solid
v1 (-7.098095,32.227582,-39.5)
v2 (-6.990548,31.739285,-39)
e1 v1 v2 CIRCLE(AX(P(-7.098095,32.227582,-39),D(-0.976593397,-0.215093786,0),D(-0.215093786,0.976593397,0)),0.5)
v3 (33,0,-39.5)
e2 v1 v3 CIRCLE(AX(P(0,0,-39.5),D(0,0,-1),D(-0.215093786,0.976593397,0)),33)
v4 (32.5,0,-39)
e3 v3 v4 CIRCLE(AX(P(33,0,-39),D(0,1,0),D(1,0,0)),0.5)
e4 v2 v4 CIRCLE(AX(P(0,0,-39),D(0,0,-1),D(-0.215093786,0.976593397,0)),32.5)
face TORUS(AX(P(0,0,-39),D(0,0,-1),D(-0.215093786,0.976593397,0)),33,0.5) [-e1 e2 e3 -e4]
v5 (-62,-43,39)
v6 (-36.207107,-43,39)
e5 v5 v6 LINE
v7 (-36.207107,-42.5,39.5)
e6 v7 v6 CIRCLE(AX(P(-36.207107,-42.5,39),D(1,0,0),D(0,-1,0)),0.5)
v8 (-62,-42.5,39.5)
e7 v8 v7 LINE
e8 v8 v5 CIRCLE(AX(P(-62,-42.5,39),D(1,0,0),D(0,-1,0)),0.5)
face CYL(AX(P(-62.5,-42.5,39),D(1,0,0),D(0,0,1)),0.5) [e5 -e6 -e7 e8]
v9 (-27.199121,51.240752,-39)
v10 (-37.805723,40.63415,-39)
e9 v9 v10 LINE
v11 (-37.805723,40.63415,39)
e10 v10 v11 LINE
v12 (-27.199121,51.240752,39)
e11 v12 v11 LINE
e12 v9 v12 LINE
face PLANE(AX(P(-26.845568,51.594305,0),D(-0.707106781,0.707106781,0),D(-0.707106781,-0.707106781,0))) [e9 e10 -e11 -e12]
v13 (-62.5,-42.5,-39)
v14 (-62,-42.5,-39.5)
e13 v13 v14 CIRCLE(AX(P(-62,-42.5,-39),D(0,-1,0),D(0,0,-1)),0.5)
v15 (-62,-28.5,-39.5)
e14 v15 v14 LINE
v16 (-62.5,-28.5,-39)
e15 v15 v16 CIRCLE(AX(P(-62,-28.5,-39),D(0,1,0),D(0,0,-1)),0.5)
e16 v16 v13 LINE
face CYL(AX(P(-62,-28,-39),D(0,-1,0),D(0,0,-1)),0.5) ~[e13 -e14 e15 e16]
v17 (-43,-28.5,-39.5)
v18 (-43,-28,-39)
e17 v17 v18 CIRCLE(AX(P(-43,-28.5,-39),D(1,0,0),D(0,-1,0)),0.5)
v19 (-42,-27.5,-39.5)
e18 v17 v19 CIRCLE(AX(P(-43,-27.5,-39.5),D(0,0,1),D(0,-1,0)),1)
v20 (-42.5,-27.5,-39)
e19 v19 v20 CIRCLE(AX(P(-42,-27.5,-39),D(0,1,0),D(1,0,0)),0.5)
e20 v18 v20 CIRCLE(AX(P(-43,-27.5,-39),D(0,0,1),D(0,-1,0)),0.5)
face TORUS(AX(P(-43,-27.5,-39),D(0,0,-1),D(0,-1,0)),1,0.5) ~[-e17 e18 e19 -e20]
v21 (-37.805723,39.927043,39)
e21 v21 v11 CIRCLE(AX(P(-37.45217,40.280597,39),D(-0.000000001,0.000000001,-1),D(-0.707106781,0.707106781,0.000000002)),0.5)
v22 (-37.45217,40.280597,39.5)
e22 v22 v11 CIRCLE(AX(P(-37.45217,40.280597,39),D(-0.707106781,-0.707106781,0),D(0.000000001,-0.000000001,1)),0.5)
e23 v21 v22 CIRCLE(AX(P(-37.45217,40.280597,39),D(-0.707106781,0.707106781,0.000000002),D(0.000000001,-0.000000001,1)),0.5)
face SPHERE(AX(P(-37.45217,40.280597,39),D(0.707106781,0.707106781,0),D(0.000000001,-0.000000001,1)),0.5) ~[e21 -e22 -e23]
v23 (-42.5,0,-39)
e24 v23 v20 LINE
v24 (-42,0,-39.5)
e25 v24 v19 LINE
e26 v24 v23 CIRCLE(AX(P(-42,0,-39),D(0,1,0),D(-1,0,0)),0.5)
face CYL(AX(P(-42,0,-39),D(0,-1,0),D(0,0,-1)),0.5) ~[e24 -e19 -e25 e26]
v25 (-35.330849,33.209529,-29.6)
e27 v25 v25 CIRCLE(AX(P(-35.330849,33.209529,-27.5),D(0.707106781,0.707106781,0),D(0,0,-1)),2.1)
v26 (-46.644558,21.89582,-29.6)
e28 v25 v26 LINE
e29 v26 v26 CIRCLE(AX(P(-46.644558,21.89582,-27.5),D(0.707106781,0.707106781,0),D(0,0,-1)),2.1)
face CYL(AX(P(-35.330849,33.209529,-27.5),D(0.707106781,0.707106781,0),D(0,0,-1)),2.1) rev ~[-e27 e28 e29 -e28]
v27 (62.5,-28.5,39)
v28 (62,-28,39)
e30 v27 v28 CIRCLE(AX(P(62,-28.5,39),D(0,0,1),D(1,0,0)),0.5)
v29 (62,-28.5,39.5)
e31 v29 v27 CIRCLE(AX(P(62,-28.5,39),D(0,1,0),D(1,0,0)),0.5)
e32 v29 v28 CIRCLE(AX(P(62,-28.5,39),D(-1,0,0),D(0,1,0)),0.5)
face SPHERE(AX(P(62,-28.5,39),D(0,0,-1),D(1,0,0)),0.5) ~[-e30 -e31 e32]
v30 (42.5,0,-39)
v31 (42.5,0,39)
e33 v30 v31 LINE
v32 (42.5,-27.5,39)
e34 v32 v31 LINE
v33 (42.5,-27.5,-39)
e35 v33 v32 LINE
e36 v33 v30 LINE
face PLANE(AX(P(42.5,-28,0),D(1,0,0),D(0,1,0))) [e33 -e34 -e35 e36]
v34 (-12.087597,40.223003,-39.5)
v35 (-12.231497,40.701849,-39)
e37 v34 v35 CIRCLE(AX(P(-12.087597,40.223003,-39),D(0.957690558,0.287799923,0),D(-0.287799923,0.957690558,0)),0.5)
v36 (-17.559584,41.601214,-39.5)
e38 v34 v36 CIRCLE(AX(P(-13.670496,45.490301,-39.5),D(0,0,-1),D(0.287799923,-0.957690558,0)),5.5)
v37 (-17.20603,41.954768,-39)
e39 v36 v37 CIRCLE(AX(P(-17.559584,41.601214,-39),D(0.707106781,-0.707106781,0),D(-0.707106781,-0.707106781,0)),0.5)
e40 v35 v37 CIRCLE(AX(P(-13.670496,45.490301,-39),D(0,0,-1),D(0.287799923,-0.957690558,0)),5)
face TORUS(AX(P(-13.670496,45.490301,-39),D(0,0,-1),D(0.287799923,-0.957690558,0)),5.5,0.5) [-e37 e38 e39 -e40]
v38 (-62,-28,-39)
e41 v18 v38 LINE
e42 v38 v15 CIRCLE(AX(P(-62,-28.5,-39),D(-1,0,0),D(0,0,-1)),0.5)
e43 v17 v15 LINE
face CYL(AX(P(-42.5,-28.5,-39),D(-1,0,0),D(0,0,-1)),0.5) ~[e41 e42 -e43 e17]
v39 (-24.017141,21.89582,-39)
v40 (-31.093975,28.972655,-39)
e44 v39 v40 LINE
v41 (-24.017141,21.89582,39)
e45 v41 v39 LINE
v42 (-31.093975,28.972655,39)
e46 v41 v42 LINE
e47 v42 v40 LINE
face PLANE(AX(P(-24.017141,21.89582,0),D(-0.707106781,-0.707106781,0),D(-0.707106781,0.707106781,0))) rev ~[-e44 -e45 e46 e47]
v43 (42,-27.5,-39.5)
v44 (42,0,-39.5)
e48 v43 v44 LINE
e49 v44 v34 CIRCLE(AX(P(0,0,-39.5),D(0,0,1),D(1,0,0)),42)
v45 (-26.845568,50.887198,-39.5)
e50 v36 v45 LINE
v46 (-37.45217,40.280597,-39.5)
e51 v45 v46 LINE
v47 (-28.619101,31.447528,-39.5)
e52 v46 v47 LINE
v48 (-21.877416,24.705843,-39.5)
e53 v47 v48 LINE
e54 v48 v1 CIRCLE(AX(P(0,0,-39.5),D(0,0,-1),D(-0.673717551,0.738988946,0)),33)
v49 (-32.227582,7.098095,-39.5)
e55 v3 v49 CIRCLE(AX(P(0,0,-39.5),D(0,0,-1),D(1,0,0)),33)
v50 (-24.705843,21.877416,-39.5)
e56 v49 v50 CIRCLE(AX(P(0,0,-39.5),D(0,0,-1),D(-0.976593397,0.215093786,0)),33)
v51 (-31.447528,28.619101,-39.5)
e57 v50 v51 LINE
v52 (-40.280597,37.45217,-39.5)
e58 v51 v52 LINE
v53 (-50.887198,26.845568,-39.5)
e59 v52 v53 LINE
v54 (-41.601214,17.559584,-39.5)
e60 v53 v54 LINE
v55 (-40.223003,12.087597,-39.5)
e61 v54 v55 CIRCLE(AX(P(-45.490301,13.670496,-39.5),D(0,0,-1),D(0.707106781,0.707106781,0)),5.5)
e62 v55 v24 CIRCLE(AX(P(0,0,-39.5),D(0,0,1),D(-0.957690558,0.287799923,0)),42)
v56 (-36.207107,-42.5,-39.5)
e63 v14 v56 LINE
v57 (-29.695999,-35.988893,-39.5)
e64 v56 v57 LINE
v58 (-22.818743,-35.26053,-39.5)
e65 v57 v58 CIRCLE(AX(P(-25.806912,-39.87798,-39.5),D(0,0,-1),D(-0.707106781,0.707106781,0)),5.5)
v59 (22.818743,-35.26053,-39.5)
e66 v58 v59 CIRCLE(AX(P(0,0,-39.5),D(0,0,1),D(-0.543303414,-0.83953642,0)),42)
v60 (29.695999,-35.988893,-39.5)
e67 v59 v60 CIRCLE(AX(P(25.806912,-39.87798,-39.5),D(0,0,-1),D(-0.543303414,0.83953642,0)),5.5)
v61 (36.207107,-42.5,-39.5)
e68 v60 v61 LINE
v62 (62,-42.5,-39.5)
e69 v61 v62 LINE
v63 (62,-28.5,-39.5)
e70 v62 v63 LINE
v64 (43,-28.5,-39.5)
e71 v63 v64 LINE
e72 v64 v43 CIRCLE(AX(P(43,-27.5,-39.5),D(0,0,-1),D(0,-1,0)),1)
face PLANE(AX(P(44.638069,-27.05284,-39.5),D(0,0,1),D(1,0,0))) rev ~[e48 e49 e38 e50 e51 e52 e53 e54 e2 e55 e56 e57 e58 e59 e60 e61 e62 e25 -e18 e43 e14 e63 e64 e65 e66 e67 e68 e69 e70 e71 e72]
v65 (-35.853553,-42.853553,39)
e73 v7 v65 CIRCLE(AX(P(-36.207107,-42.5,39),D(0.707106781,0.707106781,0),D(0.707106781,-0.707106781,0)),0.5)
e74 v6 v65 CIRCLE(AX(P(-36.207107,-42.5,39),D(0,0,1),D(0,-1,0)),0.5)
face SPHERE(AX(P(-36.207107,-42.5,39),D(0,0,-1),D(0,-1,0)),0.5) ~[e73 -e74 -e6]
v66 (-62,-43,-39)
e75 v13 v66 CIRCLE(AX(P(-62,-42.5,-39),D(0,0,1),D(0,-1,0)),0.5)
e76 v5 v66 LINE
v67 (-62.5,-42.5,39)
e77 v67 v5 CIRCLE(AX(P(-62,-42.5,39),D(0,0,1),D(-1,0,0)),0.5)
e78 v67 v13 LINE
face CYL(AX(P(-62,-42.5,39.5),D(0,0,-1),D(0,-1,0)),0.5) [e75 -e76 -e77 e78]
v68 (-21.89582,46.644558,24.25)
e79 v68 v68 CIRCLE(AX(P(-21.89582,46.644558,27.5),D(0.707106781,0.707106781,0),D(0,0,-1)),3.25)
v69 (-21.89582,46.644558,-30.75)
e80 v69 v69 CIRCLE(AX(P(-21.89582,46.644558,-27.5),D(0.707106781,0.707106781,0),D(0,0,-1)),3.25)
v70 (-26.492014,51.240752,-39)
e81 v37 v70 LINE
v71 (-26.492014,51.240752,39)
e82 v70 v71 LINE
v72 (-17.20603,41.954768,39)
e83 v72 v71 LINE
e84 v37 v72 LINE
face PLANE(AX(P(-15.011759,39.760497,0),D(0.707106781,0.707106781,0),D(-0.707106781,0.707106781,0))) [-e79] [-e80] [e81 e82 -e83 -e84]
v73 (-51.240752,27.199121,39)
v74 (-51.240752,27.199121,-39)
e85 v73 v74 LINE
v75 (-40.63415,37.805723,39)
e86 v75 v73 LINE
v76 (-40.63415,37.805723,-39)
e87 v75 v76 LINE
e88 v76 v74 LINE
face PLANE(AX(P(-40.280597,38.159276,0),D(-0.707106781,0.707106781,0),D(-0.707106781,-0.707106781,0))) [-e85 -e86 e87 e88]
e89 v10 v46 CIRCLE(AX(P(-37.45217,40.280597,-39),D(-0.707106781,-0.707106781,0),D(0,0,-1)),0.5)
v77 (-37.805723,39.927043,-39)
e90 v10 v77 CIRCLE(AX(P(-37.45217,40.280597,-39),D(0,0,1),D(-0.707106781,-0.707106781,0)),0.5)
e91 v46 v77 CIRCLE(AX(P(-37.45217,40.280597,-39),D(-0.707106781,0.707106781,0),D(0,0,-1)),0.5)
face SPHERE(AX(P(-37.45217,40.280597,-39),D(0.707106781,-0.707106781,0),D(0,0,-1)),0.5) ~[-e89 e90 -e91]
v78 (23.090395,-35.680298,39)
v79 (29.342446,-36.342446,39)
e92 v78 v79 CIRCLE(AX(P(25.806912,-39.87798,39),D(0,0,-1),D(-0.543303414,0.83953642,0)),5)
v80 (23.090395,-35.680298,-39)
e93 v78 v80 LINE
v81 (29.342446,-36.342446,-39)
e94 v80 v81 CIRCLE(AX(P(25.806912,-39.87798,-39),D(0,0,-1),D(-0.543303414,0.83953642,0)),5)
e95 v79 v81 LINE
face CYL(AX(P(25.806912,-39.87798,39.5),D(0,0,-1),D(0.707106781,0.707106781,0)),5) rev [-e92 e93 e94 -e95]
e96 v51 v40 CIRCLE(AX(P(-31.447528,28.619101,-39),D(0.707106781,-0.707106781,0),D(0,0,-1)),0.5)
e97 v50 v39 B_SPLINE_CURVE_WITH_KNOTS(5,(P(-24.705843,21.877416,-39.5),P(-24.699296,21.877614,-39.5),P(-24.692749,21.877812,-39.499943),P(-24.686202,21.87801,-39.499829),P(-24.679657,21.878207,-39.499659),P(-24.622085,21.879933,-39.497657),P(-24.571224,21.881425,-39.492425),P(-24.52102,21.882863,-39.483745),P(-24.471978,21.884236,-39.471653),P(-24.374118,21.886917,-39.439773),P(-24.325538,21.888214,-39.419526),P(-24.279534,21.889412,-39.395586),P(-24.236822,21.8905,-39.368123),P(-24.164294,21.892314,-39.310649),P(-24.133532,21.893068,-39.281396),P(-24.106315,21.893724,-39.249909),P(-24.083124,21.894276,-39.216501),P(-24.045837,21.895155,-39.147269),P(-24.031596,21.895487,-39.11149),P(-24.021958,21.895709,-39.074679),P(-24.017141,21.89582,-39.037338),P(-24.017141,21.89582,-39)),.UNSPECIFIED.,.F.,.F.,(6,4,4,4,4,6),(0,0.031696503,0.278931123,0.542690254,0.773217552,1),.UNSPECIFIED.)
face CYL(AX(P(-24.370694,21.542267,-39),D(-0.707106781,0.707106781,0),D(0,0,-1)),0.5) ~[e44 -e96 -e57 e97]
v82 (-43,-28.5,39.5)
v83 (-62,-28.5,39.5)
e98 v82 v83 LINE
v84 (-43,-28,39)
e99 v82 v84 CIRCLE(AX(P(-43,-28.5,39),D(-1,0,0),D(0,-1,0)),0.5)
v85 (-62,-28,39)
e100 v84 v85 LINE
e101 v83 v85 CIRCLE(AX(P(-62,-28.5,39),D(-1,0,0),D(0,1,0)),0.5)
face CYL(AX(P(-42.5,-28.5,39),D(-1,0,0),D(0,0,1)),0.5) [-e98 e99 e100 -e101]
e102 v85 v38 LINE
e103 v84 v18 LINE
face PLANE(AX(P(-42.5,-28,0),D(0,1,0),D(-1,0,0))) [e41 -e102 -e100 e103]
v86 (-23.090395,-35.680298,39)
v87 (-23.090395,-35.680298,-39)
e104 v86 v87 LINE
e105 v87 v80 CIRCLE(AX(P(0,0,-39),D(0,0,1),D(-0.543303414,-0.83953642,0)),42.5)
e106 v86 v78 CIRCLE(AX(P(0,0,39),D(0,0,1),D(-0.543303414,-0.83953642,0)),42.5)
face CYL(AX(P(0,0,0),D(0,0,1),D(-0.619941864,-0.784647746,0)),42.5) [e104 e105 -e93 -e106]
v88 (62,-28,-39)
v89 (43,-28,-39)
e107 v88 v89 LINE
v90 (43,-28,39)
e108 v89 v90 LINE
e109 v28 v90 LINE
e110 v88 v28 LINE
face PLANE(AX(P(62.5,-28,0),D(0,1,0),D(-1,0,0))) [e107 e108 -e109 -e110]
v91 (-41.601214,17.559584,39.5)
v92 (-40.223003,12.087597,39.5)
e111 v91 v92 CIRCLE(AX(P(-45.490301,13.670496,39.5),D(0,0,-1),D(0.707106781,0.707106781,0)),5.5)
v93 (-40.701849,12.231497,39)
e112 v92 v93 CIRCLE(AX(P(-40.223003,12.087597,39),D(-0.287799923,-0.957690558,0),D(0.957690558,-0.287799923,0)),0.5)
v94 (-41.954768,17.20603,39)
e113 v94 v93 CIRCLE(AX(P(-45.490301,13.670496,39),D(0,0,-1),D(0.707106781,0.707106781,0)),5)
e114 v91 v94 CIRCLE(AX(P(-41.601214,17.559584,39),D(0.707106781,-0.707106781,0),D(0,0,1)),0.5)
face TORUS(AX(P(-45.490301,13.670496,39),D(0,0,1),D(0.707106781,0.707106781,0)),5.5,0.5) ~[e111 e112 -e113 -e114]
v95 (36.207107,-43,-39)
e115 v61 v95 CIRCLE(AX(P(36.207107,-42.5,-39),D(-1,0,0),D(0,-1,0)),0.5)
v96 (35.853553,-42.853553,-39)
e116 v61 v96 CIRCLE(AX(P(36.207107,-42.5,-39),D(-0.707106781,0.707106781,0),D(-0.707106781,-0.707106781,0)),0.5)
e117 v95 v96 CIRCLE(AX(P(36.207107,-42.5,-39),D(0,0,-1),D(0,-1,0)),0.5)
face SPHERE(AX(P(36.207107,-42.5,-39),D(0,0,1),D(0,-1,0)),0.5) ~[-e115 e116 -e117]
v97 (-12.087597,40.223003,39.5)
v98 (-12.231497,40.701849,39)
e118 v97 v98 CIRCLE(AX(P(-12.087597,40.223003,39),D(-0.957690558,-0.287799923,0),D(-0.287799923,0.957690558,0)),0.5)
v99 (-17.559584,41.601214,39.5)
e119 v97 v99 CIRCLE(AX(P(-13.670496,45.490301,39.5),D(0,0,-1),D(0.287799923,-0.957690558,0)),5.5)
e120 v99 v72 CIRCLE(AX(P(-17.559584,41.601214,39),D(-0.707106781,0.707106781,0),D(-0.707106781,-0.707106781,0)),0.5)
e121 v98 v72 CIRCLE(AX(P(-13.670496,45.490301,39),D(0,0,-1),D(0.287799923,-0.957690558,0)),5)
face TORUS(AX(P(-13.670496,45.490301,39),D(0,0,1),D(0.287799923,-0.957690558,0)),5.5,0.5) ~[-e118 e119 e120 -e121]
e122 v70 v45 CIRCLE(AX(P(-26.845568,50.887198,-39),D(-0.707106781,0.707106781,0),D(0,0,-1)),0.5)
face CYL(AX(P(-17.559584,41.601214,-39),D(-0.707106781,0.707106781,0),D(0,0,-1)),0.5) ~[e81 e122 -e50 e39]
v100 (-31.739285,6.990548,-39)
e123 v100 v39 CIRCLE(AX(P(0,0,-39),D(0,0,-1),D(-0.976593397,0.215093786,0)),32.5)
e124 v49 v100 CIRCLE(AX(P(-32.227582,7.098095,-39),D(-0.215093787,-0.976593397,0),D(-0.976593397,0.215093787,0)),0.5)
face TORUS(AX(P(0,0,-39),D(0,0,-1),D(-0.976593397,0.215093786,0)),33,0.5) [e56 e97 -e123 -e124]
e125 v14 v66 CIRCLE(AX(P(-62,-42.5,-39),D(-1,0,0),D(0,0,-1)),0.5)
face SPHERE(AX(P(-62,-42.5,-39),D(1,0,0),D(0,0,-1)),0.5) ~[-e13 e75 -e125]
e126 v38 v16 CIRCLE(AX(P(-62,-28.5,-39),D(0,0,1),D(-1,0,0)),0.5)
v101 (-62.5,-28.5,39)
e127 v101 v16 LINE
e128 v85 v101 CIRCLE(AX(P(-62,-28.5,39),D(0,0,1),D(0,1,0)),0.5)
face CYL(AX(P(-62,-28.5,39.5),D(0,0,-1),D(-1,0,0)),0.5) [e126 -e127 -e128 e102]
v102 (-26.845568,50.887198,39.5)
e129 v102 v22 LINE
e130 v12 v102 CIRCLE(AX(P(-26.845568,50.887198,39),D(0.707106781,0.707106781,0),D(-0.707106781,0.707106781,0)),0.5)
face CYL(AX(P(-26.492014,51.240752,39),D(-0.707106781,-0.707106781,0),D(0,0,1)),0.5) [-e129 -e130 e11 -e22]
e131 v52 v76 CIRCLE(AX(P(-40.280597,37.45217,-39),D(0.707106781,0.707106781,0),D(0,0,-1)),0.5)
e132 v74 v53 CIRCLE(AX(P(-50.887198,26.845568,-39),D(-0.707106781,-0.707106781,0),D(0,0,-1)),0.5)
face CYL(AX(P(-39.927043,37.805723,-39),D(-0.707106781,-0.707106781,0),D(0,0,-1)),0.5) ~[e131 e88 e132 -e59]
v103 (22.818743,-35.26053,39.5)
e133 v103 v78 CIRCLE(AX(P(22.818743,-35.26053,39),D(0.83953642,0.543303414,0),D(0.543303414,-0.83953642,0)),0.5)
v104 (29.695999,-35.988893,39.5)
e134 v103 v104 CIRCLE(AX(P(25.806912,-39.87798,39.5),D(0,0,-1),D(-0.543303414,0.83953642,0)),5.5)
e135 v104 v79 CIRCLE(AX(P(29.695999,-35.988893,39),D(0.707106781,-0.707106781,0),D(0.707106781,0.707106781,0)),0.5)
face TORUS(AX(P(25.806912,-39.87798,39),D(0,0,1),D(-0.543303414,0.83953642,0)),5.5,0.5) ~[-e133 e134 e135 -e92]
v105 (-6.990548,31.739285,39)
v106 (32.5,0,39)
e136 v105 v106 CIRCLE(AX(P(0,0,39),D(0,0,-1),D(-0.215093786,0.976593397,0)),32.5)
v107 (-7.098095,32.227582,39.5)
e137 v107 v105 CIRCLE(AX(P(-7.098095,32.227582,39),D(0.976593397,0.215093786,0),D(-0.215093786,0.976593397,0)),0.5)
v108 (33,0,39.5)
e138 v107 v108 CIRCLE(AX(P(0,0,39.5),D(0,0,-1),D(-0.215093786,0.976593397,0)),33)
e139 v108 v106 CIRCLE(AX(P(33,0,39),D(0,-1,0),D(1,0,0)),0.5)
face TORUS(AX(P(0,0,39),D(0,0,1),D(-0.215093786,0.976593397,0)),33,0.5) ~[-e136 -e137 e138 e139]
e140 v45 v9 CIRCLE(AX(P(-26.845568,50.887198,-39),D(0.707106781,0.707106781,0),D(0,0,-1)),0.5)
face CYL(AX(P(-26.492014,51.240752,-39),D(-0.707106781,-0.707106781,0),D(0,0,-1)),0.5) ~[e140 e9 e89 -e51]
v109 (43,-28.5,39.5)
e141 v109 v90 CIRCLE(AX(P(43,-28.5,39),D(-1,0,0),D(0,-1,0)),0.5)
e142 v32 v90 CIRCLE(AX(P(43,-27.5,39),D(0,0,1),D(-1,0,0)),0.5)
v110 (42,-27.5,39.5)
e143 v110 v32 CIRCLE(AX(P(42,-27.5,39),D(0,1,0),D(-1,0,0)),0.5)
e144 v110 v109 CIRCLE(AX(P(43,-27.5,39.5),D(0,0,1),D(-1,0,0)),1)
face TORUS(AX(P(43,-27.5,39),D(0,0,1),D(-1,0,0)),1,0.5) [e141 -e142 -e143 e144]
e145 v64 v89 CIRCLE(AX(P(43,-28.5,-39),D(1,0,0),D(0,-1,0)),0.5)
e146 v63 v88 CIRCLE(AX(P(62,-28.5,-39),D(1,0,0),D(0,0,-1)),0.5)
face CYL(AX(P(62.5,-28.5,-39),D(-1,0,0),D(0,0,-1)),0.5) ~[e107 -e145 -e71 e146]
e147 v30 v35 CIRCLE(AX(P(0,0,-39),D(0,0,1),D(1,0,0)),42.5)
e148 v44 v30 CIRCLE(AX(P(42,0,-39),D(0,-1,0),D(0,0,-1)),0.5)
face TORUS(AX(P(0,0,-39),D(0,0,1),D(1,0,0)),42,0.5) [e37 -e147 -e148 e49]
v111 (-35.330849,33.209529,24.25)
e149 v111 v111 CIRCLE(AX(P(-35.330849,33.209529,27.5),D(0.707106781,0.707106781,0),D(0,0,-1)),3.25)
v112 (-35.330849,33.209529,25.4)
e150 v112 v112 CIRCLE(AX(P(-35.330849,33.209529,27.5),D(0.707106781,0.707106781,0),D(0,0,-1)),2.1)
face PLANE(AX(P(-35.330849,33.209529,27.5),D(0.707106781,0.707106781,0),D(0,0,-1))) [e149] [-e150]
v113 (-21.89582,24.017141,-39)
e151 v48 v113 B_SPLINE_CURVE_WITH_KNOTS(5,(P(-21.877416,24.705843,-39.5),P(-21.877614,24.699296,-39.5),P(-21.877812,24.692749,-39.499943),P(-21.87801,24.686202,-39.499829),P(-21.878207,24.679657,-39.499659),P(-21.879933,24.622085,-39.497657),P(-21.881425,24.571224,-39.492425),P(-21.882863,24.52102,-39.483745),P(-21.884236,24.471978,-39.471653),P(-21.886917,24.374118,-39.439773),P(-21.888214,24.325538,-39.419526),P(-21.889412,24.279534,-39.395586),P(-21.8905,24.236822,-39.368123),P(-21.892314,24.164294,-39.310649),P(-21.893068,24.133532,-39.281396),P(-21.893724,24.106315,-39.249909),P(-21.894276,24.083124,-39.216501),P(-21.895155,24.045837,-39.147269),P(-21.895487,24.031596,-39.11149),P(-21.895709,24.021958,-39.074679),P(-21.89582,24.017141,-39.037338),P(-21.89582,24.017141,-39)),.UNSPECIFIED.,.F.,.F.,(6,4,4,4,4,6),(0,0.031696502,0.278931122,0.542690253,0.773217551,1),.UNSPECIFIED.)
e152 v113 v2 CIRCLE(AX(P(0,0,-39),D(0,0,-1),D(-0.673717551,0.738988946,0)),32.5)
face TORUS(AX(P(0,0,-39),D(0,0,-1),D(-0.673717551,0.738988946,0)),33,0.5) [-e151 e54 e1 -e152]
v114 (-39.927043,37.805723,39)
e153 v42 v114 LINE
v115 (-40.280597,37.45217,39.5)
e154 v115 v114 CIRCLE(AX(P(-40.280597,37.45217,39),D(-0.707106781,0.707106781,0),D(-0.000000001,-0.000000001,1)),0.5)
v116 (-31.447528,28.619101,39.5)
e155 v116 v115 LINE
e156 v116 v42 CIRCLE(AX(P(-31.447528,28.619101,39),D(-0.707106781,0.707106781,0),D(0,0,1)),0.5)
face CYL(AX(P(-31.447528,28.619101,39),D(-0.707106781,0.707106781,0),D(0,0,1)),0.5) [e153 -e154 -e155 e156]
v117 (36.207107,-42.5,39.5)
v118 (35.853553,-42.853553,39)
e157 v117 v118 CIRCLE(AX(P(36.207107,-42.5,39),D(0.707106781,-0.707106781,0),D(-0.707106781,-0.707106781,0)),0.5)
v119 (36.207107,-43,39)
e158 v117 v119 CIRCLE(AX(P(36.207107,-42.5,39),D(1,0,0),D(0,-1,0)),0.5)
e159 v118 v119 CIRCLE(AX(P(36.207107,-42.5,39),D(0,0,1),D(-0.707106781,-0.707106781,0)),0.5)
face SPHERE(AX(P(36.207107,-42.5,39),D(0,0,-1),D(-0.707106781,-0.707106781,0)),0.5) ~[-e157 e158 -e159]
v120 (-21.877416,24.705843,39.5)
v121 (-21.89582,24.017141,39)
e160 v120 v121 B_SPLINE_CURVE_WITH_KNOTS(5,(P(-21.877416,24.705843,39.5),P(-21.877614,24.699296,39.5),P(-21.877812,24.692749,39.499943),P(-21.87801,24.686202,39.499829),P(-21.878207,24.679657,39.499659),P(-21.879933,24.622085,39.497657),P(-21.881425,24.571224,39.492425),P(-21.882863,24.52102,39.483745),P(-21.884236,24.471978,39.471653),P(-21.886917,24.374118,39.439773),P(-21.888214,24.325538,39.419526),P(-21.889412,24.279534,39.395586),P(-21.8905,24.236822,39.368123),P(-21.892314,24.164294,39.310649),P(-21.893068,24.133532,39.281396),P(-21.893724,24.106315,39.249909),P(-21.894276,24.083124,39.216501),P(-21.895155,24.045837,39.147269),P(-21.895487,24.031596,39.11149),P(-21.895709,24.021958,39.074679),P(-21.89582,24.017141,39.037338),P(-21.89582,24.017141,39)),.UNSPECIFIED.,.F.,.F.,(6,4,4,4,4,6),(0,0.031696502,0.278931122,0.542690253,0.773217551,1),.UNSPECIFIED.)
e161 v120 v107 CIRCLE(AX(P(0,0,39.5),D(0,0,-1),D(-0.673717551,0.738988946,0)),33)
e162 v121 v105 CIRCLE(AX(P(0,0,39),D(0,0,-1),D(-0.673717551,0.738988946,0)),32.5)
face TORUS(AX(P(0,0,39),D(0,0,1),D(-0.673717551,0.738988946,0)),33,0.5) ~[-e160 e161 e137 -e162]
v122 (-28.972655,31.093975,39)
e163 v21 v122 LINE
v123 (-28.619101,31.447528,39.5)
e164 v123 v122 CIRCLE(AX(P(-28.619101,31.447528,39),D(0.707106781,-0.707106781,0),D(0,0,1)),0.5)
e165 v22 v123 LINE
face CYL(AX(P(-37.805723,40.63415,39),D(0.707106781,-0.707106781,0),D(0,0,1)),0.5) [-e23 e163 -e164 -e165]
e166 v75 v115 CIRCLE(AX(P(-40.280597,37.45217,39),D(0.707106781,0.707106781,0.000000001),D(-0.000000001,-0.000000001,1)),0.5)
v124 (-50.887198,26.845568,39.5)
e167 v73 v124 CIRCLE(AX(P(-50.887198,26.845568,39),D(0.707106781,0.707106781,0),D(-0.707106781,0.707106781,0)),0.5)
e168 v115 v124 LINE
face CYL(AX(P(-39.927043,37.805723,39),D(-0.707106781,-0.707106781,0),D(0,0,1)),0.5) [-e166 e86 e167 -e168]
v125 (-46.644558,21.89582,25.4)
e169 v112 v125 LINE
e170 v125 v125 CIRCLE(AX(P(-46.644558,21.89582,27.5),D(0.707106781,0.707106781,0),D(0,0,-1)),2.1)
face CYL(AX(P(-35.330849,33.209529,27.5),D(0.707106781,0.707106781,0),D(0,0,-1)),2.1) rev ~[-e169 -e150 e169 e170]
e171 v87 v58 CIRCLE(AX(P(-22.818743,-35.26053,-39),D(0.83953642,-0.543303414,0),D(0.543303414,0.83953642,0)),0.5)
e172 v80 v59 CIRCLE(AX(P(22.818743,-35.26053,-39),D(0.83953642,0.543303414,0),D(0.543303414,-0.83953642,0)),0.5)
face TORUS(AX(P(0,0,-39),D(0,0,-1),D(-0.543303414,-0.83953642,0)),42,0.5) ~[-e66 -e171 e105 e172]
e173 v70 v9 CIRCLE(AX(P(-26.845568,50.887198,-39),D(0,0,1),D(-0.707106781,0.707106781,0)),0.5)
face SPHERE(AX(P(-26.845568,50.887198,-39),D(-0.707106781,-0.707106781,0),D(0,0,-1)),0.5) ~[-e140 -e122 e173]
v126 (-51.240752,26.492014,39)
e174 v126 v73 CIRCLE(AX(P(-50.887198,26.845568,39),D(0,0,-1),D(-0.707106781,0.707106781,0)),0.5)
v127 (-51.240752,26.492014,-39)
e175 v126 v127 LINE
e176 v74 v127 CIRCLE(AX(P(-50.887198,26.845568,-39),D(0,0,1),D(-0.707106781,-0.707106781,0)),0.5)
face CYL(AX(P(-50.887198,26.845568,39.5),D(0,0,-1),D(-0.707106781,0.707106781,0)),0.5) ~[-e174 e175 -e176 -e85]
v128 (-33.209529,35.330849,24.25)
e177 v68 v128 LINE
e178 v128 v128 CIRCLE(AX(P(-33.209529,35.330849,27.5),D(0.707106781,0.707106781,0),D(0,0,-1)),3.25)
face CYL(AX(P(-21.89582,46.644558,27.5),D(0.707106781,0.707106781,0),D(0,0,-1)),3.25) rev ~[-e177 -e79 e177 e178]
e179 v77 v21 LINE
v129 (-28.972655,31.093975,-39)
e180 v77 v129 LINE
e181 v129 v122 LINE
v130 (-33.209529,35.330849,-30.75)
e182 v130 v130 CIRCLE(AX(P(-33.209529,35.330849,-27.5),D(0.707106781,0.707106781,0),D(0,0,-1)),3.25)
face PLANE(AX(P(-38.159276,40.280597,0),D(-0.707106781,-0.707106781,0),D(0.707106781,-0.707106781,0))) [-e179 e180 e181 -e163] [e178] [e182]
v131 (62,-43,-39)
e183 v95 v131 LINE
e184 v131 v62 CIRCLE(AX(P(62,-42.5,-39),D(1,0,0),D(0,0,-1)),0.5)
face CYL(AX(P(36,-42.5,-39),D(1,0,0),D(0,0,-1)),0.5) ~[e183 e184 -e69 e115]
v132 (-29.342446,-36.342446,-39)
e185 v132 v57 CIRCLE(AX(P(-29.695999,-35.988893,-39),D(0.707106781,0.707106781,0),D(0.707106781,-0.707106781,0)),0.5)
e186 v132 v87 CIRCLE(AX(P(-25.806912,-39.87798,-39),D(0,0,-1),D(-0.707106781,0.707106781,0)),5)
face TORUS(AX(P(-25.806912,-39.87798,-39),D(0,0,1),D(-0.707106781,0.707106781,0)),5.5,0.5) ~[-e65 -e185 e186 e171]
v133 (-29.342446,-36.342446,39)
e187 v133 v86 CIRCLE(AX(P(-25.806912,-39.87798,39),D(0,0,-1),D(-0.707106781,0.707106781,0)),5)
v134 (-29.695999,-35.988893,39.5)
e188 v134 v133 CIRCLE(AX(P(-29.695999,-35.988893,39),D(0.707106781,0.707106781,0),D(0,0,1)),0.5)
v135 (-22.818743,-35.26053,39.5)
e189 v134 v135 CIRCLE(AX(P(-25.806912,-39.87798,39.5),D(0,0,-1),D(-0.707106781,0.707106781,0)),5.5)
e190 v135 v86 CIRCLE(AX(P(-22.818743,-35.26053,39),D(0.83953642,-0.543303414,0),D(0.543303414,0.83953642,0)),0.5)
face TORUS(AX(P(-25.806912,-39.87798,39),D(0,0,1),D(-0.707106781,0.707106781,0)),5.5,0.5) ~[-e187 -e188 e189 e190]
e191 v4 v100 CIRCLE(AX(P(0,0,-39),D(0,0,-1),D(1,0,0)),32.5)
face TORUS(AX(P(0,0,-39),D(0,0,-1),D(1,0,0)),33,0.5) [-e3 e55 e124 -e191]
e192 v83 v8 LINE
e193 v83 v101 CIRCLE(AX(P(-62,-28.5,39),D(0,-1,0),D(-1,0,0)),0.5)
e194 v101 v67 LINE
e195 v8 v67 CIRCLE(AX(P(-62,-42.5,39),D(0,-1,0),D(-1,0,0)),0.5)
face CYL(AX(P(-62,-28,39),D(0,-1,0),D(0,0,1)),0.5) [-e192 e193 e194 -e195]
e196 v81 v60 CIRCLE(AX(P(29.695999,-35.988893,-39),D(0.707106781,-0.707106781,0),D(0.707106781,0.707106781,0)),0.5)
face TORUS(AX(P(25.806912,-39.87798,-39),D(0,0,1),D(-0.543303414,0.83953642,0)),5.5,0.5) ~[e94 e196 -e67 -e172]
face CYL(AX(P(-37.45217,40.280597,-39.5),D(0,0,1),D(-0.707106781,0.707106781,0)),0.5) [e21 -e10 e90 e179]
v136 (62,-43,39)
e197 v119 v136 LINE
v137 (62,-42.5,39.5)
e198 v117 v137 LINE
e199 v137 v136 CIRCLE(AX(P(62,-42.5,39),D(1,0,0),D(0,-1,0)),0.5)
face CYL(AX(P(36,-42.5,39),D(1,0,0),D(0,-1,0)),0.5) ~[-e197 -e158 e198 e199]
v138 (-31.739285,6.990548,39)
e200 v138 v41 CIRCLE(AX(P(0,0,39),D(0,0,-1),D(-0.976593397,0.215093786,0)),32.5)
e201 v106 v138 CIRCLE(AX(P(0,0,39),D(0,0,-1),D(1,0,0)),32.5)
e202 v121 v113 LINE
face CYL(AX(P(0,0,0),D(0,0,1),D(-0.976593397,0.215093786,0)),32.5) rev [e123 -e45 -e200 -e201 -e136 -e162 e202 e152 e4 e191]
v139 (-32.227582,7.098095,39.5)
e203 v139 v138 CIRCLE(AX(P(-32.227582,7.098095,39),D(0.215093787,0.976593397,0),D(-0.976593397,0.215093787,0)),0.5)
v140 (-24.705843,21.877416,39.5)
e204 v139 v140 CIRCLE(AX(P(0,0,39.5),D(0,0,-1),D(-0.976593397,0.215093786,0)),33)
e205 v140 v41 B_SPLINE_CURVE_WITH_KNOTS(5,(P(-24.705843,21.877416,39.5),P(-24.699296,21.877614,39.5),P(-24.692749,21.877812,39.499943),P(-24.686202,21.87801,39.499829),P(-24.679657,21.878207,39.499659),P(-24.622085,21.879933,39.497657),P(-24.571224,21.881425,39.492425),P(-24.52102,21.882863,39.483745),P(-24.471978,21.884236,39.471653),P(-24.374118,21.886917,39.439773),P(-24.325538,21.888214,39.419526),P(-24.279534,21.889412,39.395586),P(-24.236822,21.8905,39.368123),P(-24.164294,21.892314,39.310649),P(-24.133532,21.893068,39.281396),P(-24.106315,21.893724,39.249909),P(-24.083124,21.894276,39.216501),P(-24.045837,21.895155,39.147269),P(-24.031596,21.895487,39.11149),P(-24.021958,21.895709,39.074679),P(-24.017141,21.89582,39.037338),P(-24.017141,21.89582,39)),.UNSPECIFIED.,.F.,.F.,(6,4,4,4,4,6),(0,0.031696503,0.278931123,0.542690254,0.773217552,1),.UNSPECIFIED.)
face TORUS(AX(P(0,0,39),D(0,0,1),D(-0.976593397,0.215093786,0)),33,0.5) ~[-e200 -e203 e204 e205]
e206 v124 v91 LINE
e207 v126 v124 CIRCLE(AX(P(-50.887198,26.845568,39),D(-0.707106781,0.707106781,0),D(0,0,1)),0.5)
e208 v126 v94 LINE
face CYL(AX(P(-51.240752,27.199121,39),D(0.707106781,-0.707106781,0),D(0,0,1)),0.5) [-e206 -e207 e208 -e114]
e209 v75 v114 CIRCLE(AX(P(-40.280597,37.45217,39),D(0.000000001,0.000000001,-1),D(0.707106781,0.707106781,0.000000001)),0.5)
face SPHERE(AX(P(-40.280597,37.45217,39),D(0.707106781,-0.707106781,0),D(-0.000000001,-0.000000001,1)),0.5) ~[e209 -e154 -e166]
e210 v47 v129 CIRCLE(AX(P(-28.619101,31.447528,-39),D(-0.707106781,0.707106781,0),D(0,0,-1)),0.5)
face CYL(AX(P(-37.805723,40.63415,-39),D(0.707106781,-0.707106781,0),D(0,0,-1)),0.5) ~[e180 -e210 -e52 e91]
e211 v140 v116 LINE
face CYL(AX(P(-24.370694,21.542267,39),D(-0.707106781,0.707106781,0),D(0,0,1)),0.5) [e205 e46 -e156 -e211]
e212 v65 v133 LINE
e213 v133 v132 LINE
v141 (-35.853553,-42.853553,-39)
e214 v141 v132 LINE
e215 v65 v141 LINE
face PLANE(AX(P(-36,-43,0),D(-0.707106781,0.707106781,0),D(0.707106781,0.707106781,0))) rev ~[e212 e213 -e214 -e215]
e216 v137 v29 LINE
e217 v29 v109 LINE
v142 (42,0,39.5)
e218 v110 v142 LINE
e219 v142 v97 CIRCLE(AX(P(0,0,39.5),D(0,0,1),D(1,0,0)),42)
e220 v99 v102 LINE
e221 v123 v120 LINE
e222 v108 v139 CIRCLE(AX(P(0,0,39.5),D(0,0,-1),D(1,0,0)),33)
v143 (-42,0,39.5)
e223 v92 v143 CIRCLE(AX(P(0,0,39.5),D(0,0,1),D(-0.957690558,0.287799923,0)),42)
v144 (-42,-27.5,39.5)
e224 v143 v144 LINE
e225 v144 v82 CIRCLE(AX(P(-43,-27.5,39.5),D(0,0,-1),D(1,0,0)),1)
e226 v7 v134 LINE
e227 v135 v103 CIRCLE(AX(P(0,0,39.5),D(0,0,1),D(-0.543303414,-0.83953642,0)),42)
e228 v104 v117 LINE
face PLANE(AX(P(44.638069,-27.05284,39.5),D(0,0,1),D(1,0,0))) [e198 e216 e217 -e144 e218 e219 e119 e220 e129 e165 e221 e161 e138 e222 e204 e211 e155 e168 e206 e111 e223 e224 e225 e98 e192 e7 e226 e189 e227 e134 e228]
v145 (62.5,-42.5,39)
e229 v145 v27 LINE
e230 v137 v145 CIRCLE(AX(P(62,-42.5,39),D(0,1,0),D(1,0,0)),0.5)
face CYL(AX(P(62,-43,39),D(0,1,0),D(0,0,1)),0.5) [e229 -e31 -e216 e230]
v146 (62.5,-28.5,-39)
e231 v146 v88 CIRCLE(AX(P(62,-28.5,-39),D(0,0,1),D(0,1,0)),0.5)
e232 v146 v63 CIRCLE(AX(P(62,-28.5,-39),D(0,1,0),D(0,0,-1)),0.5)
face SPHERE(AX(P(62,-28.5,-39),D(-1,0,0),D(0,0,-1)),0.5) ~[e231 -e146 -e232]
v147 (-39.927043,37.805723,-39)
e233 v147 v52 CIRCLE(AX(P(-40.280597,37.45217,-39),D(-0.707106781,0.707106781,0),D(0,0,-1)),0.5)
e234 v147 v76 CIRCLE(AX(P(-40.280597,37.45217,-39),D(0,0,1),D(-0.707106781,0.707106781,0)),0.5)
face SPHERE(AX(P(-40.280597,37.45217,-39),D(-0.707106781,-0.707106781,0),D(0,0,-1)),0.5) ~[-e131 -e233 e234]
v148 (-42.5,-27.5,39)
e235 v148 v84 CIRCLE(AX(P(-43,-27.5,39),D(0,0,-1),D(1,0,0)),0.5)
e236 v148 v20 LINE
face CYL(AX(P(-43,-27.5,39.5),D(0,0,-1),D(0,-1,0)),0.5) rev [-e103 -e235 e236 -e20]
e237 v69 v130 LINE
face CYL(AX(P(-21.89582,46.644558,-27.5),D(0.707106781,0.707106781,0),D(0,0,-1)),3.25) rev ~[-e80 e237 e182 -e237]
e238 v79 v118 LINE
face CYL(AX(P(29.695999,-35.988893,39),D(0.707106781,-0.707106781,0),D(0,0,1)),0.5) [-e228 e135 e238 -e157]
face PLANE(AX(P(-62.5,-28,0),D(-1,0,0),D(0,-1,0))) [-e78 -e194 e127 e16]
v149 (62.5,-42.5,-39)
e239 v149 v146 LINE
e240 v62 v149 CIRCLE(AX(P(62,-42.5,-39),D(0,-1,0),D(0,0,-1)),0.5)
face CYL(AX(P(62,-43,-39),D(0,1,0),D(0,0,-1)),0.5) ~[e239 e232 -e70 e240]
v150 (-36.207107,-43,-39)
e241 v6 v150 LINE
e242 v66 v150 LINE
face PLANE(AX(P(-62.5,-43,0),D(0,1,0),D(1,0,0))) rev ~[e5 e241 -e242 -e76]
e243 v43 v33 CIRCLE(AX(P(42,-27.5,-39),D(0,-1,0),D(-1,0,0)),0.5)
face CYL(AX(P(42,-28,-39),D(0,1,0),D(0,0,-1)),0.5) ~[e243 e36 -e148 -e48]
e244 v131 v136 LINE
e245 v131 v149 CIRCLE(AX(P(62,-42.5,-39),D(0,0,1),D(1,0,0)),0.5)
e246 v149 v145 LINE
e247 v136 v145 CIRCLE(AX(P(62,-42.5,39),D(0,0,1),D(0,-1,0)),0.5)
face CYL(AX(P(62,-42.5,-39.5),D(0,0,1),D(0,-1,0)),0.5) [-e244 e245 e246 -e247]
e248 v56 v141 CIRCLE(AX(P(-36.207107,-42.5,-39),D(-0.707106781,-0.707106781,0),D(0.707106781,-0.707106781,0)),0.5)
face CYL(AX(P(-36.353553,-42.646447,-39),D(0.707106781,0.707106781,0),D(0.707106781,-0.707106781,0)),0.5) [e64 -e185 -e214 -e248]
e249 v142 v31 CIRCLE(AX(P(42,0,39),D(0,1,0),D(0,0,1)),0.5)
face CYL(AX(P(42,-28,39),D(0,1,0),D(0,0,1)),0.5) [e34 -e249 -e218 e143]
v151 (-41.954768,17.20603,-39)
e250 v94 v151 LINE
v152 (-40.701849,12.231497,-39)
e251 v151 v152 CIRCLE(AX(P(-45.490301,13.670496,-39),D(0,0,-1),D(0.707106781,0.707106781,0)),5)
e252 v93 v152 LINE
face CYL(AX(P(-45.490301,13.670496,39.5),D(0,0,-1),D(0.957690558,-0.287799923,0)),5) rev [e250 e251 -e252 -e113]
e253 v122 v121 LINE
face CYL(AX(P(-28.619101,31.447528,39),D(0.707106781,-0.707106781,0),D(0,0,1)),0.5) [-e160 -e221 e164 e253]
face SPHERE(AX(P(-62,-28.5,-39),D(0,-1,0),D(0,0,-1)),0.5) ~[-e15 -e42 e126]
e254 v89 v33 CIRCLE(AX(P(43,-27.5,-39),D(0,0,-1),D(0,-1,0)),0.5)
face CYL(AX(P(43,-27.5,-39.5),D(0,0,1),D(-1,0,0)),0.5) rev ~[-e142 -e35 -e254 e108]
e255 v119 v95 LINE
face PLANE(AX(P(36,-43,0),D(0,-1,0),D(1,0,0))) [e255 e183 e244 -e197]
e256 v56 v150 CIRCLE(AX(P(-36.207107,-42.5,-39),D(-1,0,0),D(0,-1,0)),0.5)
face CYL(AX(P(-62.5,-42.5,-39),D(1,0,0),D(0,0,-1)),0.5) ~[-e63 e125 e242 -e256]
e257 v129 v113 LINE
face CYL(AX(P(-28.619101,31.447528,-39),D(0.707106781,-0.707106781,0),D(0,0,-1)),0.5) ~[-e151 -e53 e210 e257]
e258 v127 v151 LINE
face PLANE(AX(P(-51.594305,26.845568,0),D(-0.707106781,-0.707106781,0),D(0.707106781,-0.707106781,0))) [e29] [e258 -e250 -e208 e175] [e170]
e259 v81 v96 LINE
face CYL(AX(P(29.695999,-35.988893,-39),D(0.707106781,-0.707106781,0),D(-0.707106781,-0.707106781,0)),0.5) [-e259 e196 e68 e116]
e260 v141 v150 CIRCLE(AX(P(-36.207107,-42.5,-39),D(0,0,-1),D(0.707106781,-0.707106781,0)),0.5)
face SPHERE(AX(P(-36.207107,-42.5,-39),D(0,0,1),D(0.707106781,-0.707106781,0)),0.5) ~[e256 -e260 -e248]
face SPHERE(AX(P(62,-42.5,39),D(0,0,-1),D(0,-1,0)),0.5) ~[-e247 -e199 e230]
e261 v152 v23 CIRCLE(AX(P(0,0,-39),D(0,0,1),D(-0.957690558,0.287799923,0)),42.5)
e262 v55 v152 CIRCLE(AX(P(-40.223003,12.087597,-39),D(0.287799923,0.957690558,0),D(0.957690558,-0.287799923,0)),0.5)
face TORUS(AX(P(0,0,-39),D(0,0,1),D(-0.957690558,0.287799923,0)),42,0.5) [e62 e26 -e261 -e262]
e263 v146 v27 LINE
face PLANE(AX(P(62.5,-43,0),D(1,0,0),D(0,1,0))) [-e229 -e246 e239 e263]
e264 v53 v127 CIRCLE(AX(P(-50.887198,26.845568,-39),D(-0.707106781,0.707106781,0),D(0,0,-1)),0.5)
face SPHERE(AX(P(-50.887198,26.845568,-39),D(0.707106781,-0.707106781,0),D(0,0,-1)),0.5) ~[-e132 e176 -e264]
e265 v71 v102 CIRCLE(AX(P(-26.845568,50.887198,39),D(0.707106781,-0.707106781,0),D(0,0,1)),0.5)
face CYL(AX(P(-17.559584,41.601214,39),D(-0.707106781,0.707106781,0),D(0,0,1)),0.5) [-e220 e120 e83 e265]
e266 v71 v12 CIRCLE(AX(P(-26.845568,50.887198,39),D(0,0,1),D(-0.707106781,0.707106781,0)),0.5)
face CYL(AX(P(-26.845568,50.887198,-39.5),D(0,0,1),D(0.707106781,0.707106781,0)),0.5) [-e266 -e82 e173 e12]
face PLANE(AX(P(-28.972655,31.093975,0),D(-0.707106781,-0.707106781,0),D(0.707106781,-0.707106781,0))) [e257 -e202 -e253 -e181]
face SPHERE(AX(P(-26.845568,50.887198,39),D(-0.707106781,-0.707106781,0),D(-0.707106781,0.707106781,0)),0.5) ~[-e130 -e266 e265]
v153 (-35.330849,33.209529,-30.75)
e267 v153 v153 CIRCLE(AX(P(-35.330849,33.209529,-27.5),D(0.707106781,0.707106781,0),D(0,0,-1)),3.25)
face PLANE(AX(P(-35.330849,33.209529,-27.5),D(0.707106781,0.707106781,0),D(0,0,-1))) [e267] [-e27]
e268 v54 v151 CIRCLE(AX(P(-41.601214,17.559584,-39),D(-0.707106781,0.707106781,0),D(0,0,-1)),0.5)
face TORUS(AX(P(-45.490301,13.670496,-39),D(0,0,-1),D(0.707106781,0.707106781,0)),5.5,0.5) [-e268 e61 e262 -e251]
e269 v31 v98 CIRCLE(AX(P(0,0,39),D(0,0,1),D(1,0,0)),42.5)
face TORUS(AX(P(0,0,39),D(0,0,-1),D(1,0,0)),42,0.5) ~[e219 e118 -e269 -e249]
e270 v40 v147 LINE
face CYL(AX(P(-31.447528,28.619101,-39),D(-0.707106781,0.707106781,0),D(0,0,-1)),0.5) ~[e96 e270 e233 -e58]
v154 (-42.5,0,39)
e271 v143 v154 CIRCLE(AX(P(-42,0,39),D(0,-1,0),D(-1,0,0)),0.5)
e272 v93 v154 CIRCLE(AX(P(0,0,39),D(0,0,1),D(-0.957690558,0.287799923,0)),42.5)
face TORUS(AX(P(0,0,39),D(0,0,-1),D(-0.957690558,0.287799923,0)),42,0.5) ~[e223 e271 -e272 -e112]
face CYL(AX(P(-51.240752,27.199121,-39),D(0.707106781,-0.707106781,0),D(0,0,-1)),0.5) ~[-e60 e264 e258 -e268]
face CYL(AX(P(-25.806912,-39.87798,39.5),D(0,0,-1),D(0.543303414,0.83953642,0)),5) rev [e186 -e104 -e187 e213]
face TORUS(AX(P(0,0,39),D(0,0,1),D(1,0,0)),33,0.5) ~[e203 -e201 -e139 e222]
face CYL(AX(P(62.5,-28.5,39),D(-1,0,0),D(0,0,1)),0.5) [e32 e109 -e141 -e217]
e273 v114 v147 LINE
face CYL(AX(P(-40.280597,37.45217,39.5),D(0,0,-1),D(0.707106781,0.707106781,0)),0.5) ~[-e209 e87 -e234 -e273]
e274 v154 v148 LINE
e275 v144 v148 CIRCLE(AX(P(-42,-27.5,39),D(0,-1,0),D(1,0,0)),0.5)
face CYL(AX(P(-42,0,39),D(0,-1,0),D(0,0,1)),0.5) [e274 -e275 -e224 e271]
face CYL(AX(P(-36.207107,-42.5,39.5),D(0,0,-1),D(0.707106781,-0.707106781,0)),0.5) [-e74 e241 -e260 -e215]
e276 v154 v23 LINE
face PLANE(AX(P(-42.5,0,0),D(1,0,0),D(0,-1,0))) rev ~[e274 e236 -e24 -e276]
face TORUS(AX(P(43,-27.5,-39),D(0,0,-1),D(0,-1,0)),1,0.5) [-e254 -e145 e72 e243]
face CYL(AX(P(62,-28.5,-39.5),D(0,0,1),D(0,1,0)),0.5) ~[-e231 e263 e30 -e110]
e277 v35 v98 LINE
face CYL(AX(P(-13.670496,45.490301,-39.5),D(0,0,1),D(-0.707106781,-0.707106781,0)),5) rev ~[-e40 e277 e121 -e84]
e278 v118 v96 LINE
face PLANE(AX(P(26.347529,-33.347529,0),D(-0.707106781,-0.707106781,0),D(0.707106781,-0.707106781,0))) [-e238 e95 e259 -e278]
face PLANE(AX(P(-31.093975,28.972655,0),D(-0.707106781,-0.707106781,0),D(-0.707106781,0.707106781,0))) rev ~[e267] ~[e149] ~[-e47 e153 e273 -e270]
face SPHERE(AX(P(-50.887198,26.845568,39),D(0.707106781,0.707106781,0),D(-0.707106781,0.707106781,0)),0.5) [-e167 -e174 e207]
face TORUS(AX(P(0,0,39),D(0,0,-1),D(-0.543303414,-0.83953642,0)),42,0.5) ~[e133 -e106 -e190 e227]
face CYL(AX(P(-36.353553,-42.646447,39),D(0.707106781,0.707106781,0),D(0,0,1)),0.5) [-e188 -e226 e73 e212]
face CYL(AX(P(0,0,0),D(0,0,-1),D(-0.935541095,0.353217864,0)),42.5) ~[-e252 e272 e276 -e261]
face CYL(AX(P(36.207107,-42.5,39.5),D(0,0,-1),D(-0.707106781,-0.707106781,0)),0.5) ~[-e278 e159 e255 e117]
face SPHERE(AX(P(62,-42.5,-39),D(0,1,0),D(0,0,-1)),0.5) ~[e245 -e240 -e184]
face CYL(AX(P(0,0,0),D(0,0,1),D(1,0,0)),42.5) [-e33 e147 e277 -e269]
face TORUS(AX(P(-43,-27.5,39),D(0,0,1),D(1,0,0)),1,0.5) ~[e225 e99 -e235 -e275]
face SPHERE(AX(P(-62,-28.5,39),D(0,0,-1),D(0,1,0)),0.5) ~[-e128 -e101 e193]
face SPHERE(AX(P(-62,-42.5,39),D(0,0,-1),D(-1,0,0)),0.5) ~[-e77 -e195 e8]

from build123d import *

# Parameters (mm, degrees)
EXTRUDE_1_DEPTH     = 39.5
FILLET_1_R          = 5
SKETCH_2_R          = 3.25
CUT_EXTRUDE_1_DEPTH = 19
SKETCH_3_R          = 2.1
CUT_EXTRUDE_2_DEPTH = 74.099765415
FILLET_2_R          = 0.5


with BuildPart() as part:
    # Эскиз1 → Бобышка-Вытянуть1 (new body, symmetric)
    with BuildSketch(Plane.XY):
        with BuildLine():
            Line((36, -43), (62.5, -43))
            Line((62.5, -43), (62.5, -28))
            Line((62.5, -28), (42.5, -28))
            Line((42.5, -28), (42.5, 0))
            ThreePointArc((42.5, 0), (38.249313664, -18.526737551), (26.347529211, -33.347529211))
            Line((26.347529211, -33.347529211), (36, -43))
        make_face()
        with BuildLine():
            ThreePointArc((-26.347529211, -33.347529211), (0, -42.5), (26.347529211, -33.347529211))
            ThreePointArc((26.347529211, -33.347529211), (38.249313664, -18.526737551), (42.5, 0))
            ThreePointArc((42.5, 0), (24.168680496, 34.958902773), (-15.011759204, 39.760496546))
            Line((-15.011759204, 39.760496546), (-6.99054806, 31.739285402))
            ThreePointArc((-6.99054806, 31.739285402), (20.359975295, 25.332220708), (32.5, 0))
            ThreePointArc((32.5, 0), (-3.515908449, -32.309261641), (-31.739285402, 6.99054806))
            Line((-31.739285402, 6.99054806), (-39.760496546, 15.011759204))
            ThreePointArc((-39.760496546, 15.011759204), (-41.809515085, 7.629839343), (-42.5, 0))
            ThreePointArc((-42.5, 0), (-38.249313664, -18.526737551), (-26.347529211, -33.347529211))
        make_face()
        with BuildLine():
            Line((-62.5, -43), (-36, -43))
            Line((-36, -43), (-26.347529211, -33.347529211))
            ThreePointArc((-26.347529211, -33.347529211), (-38.249313664, -18.526737551), (-42.5, 0))
            Line((-42.5, 0), (-42.5, -28))
            Line((-42.5, -28), (-62.5, -28))
            Line((-62.5, -28), (-62.5, -43))
        make_face()
        with BuildLine():
            Line((-6.99054806, 31.739285402), (-15.011759204, 39.760496546))
            ThreePointArc((-15.011759204, 39.760496546), (-22.415046614, 36.108388018), (-28.972654664, 31.093975007))
            Line((-28.972654664, 31.093975007), (-21.895820395, 24.017140738))
            ThreePointArc((-21.895820395, 24.017140738), (-14.950366222, 28.857175015), (-6.99054806, 31.739285402))
        make_face()
        with BuildLine():
            ThreePointArc((-31.093975007, 28.972654664), (-36.108388018, 22.415046614), (-39.760496546, 15.011759204))
            Line((-39.760496546, 15.011759204), (-31.739285402, 6.99054806))
            ThreePointArc((-31.739285402, 6.99054806), (-28.857175015, 14.950366222), (-24.017140738, 21.895820395))
            Line((-24.017140738, 21.895820395), (-31.093975007, 28.972654664))
        make_face()
        with BuildLine():
            Line((-51.594305205, 26.845567863), (-39.760496546, 15.011759204))
            ThreePointArc((-39.760496546, 15.011759204), (-36.108388018, 22.415046614), (-31.093975007, 28.972654664))
            Line((-31.093975007, 28.972654664), (-40.280596706, 38.159276362))
            Line((-40.280596706, 38.159276362), (-51.594305205, 26.845567863))
        make_face()
        with BuildLine():
            ThreePointArc((-28.972654664, 31.093975007), (-22.415046614, 36.108388018), (-15.011759204, 39.760496546))
            Line((-15.011759204, 39.760496546), (-26.845567863, 51.594305205))
            Line((-26.845567863, 51.594305205), (-38.159276362, 40.280596706))
            Line((-38.159276362, 40.280596706), (-28.972654664, 31.093975007))
        make_face()
    extrude(amount=EXTRUDE_1_DEPTH, both=True)

    # Скругление1
    fillet_1_edges = [part.edges().sort_by_distance(p)[0] for p in [
        (26.347529211, -33.347529211, 0),
        (-26.347529211, -33.347529211, 0),
        (-39.760496546, 15.011759204, 0),
        (-15.011759204, 39.760496546, 0),
    ]]
    fillet(fillet_1_edges, radius=FILLET_1_R)

    # Эскиз2 → Вырез-Вытянуть1 (cut)
    with BuildSketch(Plane(origin=(12.374368671, 12.374368671, 0), x_dir=(0, 0, -1), z_dir=(0.707106781, 0.707106781, 0))):
        with Locations((-27.5, 48.465366161)):
            Circle(SKETCH_2_R)
        with Locations((27.5, 48.465366161)):
            Circle(SKETCH_2_R)
    extrude(amount=-CUT_EXTRUDE_1_DEPTH, mode=Mode.SUBTRACT)

    # Эскиз3 → Вырез-Вытянуть2 (cut, through all)
    with BuildSketch(Plane(origin=(-1.060660172, -1.060660172, 0), x_dir=(0, 0, -1), z_dir=(0.707106781, 0.707106781, 0))):
        with Locations((-27.5, 48.465366161)):
            Circle(SKETCH_3_R)
        with Locations((27.5, 48.465366161)):
            Circle(SKETCH_3_R)
    extrude(amount=-CUT_EXTRUDE_2_DEPTH, mode=Mode.SUBTRACT)

    # Скругление2
    fillet_2_edges = [part.edges().sort_by_distance(p)[0] for p in [
        (-32.502422113, 45.937450955, 39.5),
        (52.5, -28, -39.5),
        (-30.027548378, 32.148868722, 39.5),
        (62.5, -35.5, -39.5),
        (49.25, -43, -39.5),
        (32.671223026, -39.671223026, -39.5),
        (-32.671223026, -39.671223026, -39.5),
        (-49.25, -43, -39.5),
        (-62.5, -35.5, -39.5),
        (-52.5, -28, -39.5),
        (-42.5, -14, -39.5),
        (22.980970389, -22.980970389, 39.5),
        (-45.937450955, 32.502422113, -39.5),
        (-32.148868722, 30.027548378, -39.5),
        (22.980970389, -22.980970389, -39.5),
        (-30.027548378, 32.148868722, -39.5),
        (-32.502422113, 45.937450955, -39.5),
        (25.361500244, 34.10343539, -39.5),
        (42.5, -14, -39.5),
        (-32.148868722, 30.027548378, 39.5),
        (-45.937450955, 32.502422113, 39.5),
        (42.5, -28, 0),
        (62.5, -28, 0),
        (62.5, -43, 0),
        (36, -43, 0),
        (-36, -43, 0),
        (-62.5, -43, 0),
        (-62.5, -28, 0),
        (-42.5, -28, 0),
        (-51.594305205, 26.845567863, 0),
        (-40.280596706, 38.159276362, 0),
        (-38.159276362, 40.280596706, 0),
        (-26.845567863, 51.594305205, 0),
        (42.5, -14, 39.5),
        (-42.5, -14, 39.5),
        (-52.5, -28, 39.5),
        (-62.5, -35.5, 39.5),
        (-49.25, -43, 39.5),
        (0, -42.5, -39.5),
        (0, -42.5, 39.5),
        (-32.671223026, -39.671223026, 39.5),
        (-42.048059229, 6.181481623, -39.5),
        (-42.048059229, 6.181481623, 39.5),
        (-46.774536395, 22.025799054, -39.5),
        (-46.774536395, 22.025799054, 39.5),
        (-22.025799054, 46.774536395, -39.5),
        (-22.025799054, 46.774536395, 39.5),
        (26.333511807, -34.905788007, -39.5),
        (32.671223026, -39.671223026, 39.5),
        (26.333511807, -34.905788007, 39.5),
        (-26.333511807, -34.905788007, -39.5),
        (-26.333511807, -34.905788007, 39.5),
        (-40.641725974, 14.891690607, -39.5),
        (49.25, -43, 39.5),
        (-40.641725974, 14.891690607, 39.5),
        (-14.891690607, 40.641725974, -39.5),
        (-14.891690607, 40.641725974, 39.5),
        (62.5, -35.5, 39.5),
        (25.361500244, 34.10343539, 39.5),
        (52.5, -28, 39.5),
    ]]
    fillet(fillet_2_edges, radius=FILLET_2_R)


solid = part.part
